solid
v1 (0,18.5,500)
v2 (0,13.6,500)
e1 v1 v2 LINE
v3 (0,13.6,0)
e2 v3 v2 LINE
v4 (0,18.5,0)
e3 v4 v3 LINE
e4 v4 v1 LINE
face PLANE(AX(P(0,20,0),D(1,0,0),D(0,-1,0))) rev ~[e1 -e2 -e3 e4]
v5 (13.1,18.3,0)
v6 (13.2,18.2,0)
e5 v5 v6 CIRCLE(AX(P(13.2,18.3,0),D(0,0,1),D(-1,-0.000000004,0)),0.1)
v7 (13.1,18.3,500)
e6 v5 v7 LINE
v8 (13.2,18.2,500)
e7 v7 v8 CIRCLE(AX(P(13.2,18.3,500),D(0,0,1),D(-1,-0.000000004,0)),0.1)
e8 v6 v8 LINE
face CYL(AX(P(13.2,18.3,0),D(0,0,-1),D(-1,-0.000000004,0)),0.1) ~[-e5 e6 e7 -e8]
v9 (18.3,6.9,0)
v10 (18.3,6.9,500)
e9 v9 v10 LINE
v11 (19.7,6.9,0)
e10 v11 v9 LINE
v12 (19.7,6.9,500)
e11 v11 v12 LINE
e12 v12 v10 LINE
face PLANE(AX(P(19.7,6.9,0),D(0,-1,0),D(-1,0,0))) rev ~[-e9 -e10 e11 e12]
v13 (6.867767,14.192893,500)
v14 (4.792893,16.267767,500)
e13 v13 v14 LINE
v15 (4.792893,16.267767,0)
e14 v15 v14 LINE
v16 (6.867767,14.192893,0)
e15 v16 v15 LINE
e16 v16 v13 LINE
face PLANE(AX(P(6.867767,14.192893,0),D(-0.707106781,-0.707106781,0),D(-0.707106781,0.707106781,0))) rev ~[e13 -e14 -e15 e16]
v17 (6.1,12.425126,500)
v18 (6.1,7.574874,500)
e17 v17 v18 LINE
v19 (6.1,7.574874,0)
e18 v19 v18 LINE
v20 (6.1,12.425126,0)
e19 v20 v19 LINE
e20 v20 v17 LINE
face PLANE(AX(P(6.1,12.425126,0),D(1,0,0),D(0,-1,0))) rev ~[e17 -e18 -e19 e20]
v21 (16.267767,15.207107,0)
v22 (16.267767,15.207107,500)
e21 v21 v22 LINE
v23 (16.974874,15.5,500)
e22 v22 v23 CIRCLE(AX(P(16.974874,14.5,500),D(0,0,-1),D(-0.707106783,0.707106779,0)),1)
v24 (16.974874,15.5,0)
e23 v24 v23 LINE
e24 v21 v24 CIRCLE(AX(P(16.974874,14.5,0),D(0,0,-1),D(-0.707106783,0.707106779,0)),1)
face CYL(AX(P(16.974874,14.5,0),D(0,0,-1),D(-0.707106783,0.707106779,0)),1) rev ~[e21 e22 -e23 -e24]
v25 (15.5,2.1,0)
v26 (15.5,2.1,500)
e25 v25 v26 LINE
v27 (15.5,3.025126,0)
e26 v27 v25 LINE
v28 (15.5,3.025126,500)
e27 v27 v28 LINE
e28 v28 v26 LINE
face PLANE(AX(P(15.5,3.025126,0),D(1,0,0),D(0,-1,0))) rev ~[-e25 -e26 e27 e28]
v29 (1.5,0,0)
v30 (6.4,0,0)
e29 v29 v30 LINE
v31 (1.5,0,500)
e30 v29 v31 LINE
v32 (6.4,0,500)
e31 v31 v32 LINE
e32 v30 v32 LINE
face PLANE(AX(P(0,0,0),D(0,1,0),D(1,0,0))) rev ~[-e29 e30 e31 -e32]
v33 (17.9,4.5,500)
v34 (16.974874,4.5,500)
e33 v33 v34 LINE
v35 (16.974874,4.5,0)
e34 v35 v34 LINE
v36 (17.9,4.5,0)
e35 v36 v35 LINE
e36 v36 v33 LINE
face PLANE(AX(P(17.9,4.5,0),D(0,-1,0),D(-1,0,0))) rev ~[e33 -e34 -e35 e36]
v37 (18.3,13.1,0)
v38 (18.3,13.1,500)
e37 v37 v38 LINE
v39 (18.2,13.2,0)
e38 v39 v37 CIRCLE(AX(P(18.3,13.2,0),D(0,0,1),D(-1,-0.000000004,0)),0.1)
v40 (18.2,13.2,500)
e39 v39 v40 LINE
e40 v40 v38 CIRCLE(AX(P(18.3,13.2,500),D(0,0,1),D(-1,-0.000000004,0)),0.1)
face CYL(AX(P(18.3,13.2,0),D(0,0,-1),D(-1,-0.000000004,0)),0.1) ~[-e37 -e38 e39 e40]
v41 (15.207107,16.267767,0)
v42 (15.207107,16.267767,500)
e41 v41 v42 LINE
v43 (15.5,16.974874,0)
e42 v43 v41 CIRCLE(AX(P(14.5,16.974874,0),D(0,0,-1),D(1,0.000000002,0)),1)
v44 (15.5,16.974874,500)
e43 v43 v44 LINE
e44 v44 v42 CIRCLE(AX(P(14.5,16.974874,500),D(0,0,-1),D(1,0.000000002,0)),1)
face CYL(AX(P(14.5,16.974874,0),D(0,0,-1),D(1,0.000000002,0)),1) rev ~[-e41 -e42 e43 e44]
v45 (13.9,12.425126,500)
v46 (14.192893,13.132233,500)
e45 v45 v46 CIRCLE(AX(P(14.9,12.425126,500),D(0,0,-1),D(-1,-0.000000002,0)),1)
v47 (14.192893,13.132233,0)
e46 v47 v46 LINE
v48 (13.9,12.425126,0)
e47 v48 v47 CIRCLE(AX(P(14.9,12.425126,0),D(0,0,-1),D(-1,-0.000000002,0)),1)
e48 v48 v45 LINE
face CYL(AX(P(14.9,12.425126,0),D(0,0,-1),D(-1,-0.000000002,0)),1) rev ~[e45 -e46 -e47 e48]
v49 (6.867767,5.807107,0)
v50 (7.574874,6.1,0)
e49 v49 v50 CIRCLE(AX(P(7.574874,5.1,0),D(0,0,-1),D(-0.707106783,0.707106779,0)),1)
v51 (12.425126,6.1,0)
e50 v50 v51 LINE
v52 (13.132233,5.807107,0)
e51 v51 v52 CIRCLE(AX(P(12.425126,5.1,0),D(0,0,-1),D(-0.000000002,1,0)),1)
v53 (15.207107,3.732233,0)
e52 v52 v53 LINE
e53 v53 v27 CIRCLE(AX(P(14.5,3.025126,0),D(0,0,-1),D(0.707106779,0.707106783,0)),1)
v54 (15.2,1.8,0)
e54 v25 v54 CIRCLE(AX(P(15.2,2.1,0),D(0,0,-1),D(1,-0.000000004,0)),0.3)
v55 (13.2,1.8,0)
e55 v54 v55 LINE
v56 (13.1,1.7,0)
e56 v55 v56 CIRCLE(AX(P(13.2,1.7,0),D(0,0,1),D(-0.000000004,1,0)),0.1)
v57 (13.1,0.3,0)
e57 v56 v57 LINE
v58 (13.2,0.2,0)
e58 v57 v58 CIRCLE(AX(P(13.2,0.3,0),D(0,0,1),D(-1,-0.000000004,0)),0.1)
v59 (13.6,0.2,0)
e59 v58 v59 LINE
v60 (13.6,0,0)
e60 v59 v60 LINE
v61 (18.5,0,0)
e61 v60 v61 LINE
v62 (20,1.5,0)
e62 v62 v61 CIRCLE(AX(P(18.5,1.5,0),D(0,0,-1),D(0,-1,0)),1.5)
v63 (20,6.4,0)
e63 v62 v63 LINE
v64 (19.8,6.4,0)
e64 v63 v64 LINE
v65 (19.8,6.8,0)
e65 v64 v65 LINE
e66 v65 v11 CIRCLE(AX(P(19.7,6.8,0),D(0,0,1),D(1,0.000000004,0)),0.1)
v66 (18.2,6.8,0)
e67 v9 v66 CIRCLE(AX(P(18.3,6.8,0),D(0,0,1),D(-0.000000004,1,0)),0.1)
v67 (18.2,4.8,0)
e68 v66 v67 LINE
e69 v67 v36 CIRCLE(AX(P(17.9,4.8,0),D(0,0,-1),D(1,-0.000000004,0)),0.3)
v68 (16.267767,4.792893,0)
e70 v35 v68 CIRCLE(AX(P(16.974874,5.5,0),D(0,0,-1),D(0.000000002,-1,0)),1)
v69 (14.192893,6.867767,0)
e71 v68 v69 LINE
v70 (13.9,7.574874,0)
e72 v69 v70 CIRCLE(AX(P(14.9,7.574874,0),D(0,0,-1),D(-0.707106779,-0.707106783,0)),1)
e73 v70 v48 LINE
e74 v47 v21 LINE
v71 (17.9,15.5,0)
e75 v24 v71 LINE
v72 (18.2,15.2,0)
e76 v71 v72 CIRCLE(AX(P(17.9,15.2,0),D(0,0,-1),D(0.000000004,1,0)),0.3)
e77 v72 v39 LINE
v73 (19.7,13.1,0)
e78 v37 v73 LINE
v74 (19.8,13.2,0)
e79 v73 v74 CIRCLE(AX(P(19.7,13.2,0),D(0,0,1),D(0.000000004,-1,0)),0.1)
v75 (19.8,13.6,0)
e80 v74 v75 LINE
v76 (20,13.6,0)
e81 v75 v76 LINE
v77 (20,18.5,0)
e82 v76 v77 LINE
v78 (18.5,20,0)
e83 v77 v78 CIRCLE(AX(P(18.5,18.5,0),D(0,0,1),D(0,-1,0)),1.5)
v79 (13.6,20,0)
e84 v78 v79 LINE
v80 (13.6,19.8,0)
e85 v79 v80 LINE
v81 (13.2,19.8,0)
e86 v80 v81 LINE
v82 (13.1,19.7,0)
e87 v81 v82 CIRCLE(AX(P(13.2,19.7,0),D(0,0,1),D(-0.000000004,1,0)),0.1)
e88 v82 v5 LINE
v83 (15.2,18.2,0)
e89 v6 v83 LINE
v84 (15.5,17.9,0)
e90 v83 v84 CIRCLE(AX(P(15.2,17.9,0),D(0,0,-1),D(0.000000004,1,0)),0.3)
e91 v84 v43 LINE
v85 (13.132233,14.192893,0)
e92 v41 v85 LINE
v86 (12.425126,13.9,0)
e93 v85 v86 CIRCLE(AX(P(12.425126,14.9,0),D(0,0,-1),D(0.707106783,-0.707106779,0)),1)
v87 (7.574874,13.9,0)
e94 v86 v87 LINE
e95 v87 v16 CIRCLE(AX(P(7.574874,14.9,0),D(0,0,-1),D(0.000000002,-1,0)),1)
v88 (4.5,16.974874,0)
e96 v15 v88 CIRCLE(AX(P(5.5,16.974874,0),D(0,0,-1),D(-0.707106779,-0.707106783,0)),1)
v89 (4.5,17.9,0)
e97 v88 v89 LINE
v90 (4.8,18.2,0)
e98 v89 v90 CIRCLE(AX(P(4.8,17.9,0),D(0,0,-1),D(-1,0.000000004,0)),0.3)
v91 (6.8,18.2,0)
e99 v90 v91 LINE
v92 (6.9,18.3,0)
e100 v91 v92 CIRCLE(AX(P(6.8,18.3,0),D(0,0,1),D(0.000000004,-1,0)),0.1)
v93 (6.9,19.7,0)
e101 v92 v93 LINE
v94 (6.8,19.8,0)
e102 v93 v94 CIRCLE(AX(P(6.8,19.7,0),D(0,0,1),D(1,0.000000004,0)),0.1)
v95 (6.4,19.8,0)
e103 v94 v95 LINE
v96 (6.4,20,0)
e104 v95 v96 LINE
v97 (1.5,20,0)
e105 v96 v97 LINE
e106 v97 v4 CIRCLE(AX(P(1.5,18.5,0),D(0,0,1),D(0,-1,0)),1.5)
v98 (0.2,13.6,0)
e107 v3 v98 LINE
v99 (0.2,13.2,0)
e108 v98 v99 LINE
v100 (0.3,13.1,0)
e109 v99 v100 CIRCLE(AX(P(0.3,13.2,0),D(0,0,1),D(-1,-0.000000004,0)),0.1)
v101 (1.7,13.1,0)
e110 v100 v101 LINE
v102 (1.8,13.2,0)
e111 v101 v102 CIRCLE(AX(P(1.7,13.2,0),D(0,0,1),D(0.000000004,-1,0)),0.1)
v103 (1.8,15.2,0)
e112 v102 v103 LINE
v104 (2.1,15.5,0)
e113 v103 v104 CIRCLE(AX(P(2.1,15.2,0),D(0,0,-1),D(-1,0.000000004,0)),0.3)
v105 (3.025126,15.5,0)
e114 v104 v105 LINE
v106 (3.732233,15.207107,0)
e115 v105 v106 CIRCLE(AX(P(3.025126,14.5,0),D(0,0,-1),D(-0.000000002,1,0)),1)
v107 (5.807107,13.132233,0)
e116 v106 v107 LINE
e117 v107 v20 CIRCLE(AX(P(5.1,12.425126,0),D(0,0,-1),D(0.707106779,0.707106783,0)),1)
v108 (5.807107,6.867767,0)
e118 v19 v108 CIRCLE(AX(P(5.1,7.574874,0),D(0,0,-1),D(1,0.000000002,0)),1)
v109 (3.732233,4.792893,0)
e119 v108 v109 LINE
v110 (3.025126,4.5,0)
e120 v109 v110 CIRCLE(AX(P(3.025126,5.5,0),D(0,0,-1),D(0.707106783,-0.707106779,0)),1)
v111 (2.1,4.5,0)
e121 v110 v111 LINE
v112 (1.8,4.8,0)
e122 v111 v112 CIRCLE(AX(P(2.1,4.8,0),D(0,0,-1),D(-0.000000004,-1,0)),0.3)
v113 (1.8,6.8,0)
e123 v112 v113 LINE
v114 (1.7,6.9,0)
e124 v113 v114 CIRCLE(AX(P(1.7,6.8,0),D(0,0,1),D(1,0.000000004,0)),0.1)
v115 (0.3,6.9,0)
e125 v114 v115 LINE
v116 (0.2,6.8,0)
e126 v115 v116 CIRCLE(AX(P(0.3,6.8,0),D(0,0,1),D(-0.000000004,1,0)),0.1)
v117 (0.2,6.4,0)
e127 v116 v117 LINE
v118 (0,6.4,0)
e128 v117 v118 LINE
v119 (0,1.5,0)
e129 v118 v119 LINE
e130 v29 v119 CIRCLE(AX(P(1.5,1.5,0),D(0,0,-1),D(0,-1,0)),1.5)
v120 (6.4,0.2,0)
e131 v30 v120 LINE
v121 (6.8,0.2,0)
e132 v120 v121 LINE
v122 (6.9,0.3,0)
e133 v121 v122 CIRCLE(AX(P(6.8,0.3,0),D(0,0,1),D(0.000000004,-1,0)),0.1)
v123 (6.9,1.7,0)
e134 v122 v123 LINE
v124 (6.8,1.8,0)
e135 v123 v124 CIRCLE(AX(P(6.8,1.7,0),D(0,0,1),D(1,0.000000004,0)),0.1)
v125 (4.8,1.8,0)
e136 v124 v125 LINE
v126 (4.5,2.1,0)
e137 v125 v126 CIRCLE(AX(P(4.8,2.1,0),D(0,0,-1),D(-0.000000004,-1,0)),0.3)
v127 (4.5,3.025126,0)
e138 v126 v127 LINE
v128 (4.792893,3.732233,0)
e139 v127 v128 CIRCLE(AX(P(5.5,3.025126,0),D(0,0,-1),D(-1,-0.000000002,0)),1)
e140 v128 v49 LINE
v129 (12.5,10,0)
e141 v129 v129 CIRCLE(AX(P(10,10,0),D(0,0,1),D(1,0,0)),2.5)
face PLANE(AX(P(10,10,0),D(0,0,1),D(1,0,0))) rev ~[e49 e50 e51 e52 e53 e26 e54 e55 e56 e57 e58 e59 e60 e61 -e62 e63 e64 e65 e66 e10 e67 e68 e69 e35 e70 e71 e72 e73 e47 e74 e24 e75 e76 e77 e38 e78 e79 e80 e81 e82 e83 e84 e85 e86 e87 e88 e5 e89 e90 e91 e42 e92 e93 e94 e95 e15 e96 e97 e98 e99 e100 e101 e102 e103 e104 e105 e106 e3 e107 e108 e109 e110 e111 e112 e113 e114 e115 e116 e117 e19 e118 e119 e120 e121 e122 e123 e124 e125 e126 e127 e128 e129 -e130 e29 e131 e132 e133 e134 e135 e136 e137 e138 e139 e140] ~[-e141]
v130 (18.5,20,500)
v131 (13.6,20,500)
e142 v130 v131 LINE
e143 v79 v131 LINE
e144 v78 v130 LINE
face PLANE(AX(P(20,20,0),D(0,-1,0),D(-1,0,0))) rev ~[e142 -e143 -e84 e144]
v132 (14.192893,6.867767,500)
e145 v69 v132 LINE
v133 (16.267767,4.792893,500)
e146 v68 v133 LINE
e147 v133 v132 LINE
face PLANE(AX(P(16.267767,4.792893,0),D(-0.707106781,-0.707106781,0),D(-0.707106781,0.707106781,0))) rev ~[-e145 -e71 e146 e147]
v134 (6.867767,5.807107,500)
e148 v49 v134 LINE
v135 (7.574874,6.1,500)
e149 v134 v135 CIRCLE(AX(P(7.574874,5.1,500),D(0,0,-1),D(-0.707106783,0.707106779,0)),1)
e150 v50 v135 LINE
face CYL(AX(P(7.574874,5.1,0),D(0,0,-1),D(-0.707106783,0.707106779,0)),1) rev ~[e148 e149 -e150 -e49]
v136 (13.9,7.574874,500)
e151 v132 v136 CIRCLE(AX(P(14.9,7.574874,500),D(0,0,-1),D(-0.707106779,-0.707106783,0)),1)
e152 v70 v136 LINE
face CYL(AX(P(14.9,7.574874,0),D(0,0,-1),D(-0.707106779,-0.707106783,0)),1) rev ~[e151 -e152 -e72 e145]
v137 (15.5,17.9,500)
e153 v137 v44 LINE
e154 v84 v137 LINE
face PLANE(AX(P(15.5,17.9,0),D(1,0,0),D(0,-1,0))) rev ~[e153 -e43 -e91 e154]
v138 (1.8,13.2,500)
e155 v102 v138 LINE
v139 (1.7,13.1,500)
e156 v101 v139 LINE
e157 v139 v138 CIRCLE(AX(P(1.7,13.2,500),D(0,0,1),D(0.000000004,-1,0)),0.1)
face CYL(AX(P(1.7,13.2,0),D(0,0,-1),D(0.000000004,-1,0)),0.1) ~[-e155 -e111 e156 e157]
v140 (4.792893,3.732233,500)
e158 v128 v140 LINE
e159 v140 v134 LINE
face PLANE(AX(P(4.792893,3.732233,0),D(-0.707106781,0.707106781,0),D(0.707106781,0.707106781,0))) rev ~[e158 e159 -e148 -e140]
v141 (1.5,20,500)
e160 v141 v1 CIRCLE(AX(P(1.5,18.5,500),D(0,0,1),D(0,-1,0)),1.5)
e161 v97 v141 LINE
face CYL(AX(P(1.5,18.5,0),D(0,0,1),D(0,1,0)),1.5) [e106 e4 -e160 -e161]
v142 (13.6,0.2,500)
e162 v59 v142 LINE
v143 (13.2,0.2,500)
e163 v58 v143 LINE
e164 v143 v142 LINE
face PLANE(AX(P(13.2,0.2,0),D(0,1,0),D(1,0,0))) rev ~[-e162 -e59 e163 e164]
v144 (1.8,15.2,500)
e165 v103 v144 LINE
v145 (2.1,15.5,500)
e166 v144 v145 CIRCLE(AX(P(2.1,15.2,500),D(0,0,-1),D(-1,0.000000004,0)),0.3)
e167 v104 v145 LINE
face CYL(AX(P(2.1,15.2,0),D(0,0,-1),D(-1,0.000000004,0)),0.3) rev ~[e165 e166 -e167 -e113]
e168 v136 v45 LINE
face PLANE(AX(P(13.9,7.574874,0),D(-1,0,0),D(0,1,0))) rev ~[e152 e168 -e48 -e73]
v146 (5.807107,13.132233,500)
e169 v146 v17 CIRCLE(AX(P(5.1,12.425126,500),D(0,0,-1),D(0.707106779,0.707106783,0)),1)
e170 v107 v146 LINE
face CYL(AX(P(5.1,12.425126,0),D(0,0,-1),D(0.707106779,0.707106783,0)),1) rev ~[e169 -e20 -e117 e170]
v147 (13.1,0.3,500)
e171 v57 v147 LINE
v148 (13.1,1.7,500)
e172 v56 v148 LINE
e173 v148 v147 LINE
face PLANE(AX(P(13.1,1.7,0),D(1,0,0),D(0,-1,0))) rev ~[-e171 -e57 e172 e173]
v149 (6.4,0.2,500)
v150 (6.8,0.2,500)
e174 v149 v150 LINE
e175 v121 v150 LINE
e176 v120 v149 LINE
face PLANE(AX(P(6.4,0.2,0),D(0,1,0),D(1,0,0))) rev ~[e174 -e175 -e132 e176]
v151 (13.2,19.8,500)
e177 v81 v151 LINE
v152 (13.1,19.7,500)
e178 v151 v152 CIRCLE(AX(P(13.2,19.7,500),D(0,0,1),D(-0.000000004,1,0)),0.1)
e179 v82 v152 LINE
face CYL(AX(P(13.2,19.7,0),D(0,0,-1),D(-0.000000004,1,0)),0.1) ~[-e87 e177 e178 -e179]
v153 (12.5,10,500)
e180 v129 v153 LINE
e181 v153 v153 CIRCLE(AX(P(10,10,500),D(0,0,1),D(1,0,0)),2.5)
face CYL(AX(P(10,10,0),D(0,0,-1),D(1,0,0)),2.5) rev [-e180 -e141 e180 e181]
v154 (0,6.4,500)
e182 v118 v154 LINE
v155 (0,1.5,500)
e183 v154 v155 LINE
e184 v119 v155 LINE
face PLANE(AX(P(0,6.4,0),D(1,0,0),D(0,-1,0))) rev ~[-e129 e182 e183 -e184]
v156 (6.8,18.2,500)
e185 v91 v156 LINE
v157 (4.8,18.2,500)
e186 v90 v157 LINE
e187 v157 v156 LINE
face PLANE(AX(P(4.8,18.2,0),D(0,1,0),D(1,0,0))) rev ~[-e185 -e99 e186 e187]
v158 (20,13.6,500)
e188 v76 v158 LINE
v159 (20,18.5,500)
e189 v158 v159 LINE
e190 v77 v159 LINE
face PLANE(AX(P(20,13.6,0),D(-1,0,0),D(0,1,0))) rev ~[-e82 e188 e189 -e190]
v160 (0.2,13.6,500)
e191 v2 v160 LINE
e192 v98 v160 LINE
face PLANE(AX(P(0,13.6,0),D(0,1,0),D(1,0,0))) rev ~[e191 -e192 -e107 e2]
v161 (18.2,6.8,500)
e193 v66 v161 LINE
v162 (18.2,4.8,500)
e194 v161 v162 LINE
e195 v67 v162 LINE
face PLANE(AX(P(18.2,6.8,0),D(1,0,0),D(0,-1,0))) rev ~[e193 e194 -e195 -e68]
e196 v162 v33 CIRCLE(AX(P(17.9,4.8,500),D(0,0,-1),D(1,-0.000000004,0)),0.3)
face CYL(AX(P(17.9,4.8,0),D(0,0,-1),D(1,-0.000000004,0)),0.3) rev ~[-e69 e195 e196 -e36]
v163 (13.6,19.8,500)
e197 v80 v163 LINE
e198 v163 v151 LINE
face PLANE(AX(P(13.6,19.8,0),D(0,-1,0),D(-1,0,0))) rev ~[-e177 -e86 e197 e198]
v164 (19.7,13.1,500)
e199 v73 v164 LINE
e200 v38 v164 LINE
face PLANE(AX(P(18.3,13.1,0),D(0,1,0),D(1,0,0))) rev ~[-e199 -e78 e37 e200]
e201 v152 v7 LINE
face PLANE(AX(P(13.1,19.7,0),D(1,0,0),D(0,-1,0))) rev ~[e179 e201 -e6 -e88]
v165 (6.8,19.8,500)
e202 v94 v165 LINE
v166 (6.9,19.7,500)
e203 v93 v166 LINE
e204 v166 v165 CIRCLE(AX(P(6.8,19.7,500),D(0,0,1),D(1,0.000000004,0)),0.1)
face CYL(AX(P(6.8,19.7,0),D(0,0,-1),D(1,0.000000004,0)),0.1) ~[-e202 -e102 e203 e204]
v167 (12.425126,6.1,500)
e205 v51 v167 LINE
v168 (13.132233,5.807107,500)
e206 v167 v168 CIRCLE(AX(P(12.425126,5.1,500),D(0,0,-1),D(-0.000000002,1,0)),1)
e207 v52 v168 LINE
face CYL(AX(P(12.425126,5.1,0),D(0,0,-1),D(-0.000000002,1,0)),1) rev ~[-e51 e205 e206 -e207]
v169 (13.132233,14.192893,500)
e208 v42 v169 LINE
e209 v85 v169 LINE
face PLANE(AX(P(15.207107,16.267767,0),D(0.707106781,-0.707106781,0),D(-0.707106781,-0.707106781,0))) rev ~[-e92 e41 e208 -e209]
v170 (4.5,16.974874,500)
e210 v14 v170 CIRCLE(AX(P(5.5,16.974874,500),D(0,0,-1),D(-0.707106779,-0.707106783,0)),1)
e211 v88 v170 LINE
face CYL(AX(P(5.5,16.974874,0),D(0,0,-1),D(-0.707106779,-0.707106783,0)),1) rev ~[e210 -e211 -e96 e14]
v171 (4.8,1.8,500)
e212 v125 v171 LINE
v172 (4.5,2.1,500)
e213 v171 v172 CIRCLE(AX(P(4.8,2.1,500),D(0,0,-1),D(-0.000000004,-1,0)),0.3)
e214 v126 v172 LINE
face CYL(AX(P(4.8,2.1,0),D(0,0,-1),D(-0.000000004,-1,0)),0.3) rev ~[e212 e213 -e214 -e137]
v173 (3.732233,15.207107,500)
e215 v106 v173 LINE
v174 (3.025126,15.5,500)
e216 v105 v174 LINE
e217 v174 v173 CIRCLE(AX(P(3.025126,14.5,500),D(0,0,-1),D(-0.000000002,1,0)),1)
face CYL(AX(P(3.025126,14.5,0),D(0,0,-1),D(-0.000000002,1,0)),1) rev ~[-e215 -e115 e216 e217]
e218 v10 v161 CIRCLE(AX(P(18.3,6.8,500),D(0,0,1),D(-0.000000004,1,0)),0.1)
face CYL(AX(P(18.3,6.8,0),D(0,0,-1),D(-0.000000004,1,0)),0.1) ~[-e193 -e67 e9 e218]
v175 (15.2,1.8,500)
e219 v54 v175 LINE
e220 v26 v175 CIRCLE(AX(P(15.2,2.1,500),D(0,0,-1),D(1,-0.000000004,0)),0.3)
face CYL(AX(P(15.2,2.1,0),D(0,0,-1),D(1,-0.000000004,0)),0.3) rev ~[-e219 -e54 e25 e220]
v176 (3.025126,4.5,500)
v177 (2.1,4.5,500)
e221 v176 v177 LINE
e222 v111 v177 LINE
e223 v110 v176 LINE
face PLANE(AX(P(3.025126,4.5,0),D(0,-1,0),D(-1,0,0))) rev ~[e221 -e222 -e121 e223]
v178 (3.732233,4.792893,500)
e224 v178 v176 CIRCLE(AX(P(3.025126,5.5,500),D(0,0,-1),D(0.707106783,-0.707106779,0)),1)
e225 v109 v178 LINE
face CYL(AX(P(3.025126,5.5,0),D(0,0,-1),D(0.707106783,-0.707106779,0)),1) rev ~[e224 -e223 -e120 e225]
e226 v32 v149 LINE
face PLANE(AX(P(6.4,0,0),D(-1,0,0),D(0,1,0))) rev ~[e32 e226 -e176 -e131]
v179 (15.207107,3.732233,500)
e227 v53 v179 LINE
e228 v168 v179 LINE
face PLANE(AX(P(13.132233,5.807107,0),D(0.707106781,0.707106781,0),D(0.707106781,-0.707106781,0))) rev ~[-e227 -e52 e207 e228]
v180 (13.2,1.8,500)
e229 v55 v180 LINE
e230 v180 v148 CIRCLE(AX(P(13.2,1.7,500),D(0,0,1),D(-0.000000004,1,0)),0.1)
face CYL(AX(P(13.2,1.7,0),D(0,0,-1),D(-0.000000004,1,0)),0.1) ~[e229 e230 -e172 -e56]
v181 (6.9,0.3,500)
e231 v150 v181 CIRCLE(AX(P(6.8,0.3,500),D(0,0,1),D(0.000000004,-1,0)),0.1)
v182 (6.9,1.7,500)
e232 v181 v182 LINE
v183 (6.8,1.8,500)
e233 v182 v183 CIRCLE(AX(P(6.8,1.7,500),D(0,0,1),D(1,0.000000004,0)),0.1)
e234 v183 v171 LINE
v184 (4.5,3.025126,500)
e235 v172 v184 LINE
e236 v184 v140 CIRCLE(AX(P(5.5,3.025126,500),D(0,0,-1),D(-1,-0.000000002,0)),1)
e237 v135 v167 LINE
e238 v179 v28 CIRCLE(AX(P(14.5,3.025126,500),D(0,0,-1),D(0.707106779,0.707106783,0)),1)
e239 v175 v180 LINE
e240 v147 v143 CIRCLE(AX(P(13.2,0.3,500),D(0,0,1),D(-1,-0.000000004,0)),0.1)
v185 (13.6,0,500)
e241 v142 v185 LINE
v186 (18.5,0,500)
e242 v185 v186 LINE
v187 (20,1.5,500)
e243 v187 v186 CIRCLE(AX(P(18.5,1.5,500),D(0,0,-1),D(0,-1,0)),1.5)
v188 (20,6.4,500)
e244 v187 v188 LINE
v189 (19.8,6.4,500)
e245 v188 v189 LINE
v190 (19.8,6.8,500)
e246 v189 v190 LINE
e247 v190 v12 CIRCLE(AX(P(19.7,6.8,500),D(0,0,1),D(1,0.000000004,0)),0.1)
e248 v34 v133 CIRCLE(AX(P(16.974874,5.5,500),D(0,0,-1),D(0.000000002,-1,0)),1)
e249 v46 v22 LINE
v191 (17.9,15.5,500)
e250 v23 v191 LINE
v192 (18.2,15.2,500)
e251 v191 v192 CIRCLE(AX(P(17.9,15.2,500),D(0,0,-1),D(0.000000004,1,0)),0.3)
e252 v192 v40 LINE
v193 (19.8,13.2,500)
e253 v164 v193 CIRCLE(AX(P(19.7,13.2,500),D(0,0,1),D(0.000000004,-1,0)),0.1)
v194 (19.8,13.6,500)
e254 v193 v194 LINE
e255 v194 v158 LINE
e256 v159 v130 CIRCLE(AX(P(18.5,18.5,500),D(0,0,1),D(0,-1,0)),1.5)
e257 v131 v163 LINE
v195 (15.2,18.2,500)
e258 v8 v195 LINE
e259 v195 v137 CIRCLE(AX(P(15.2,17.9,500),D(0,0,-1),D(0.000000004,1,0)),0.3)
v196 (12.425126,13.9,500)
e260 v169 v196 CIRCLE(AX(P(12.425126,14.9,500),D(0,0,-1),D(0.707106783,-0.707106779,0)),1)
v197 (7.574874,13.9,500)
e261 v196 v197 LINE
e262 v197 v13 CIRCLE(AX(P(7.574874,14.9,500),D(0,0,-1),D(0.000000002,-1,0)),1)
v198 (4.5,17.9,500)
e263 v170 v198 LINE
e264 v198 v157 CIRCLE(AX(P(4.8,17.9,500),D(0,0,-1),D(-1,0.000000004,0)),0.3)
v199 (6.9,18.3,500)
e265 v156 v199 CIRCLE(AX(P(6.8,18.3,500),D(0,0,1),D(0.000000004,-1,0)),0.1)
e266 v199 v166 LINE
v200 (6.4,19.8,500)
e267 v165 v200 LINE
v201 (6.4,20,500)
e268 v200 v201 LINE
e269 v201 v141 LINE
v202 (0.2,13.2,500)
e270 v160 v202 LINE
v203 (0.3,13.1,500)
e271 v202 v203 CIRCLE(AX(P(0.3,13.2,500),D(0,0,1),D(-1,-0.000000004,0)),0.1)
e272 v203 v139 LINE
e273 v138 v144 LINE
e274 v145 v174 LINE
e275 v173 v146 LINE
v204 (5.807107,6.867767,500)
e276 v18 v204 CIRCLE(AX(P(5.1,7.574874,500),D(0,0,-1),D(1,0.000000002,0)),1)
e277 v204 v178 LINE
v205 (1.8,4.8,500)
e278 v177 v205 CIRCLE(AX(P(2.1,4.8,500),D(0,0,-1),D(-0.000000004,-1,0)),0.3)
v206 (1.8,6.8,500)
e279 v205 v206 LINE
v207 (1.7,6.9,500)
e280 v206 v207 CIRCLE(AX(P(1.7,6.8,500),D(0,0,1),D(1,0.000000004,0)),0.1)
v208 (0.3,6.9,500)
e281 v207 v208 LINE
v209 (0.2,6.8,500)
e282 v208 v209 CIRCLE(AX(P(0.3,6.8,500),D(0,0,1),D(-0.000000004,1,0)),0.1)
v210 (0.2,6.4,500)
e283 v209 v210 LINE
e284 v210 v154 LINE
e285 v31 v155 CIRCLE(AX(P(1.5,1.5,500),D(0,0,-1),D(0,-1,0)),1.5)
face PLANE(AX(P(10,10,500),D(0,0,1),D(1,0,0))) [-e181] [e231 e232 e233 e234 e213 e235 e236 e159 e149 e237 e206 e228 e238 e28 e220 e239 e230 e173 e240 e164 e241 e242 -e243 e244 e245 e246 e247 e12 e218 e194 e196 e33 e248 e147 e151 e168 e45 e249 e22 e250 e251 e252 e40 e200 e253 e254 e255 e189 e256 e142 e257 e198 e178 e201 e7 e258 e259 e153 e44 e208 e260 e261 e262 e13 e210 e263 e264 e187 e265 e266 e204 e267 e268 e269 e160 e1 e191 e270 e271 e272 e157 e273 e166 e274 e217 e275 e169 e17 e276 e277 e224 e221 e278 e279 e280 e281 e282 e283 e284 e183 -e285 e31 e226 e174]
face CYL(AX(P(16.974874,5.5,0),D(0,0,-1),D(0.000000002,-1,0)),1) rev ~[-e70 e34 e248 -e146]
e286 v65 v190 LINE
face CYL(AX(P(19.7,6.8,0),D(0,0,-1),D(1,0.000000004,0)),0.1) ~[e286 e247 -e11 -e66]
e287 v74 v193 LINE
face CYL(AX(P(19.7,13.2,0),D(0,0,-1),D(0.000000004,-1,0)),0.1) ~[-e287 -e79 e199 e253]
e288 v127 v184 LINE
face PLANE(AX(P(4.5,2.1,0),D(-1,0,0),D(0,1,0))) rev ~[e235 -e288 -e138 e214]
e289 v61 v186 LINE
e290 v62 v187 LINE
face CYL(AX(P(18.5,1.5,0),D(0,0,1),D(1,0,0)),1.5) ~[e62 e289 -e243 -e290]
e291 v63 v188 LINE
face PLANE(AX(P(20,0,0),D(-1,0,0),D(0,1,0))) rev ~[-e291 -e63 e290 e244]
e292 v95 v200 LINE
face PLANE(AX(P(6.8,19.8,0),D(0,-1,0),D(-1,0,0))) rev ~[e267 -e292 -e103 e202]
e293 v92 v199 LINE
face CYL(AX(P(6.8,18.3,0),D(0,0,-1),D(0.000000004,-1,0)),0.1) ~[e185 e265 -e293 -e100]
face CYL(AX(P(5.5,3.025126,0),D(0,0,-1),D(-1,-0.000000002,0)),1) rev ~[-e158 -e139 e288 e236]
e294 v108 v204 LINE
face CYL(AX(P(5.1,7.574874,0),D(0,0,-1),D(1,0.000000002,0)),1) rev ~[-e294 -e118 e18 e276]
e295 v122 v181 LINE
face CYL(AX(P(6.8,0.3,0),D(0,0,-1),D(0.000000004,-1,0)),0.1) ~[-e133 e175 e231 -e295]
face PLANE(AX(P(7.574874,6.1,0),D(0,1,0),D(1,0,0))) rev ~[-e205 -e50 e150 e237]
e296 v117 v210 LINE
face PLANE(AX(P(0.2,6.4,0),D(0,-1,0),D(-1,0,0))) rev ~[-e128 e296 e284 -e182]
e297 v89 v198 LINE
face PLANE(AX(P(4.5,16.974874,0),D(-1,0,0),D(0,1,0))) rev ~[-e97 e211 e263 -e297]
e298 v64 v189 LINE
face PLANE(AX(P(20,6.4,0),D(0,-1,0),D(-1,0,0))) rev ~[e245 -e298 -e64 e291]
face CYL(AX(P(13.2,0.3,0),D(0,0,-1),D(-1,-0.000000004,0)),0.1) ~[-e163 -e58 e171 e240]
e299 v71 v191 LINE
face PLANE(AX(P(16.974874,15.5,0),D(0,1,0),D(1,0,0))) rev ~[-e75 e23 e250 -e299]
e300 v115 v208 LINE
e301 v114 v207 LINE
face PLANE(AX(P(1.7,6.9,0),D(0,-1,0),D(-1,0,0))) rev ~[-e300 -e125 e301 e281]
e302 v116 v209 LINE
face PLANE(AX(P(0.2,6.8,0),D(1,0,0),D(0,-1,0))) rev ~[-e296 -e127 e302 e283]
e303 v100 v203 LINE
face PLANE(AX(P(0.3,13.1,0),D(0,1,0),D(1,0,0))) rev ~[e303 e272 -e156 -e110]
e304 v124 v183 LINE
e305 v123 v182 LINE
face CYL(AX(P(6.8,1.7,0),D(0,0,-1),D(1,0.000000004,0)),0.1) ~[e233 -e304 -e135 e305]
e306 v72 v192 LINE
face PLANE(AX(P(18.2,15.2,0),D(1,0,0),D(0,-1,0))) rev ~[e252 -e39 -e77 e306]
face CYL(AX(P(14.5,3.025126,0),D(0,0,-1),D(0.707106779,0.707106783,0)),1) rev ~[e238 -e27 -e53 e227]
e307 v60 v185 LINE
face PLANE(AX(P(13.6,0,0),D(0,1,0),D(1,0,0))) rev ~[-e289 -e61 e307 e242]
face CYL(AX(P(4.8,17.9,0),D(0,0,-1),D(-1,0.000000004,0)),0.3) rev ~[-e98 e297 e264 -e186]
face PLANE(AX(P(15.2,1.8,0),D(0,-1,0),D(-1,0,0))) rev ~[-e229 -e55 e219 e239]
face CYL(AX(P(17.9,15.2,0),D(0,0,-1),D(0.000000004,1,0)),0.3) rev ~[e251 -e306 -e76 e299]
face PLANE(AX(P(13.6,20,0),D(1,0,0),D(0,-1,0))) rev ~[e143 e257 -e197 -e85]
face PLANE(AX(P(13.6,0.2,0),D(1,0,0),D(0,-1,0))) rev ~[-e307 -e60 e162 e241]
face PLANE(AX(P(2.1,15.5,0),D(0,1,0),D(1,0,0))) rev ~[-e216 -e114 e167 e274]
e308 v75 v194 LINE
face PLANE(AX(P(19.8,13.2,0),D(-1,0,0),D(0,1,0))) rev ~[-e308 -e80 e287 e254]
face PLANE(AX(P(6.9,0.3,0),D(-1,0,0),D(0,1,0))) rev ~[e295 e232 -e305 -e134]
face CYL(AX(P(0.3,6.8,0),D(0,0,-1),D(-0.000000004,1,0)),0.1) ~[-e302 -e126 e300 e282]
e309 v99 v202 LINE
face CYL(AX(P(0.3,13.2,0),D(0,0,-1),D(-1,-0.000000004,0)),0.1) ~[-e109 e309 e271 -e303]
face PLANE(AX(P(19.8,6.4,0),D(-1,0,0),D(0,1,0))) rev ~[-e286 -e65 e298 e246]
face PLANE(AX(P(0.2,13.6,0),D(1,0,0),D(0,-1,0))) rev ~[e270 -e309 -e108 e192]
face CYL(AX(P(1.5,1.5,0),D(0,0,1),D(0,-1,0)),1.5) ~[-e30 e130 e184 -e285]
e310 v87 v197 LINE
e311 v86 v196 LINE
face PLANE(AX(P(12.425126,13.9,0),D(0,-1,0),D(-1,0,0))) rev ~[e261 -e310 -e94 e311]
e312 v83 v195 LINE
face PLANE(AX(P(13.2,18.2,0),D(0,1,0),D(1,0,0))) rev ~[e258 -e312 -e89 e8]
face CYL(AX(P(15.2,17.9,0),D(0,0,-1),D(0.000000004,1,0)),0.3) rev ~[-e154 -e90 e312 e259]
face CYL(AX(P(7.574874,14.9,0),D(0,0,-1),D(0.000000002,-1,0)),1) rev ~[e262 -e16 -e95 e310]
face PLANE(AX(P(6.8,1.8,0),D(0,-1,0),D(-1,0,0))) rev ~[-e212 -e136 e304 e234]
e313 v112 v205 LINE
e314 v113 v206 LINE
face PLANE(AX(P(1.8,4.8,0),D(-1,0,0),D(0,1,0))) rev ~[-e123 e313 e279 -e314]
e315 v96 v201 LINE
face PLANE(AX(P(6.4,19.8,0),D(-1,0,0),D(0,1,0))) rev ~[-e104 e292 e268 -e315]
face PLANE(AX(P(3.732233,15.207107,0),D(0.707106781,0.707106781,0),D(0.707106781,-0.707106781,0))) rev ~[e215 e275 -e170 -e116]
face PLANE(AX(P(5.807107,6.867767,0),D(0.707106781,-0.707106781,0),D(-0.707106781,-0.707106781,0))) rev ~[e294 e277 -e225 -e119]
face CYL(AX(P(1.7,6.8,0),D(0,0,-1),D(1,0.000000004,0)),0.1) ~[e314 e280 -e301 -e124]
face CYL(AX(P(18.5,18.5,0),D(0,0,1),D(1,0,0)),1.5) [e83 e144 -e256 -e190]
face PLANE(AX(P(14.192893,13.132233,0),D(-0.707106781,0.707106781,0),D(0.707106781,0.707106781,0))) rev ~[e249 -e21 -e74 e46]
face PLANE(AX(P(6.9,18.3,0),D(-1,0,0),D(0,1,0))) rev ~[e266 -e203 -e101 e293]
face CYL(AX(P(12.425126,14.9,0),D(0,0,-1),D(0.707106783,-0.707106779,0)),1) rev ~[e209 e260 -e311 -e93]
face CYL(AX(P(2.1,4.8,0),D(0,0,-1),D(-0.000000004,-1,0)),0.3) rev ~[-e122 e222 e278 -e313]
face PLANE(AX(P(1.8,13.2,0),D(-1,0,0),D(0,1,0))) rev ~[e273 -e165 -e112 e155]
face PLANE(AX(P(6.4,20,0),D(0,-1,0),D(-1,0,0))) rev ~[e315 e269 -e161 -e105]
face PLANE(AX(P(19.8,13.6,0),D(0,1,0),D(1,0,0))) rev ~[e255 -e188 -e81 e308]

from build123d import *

# Parameters (mm, degrees)
SKETCH_1_R      = 2.5
EXTRUDE_1_DEPTH = 500
FILLET_1_R      = 1.5


with BuildPart() as part:
    # 草图1 → 凸台-拉伸1 (new body)
    with BuildSketch(Plane.XY):
        with BuildLine():
            Line((20, 13.6), (20, 20))
            Line((20, 20), (13.6, 20))
            Line((13.6, 20), (13.6, 19.8))
            Line((13.6, 19.8), (13.2, 19.8))
            ThreePointArc((13.2, 19.8), (13.129289322, 19.770710678), (13.1, 19.7))
            Line((13.1, 19.7), (13.1, 18.3))
            ThreePointArc((13.1, 18.3), (13.129289322, 18.229289322), (13.2, 18.2))
            Line((13.2, 18.2), (15.2, 18.2))
            ThreePointArc((15.2, 18.2), (15.412132034, 18.112132034), (15.5, 17.9))
            Line((15.5, 17.9), (15.5, 16.974873734))
            ThreePointArc((15.5, 16.974873734), (15.423879533, 16.592190302), (15.207106781, 16.267766953))
            Line((15.207106781, 16.267766953), (13.132233047, 14.192893219))
            ThreePointArc((13.132233047, 14.192893219), (12.807809698, 13.976120467), (12.425126266, 13.9))
            Line((12.425126266, 13.9), (7.574873734, 13.9))
            ThreePointArc((7.574873734, 13.9), (7.192190302, 13.976120467), (6.867766953, 14.192893219))
            Line((6.867766953, 14.192893219), (4.792893219, 16.267766953))
            ThreePointArc((4.792893219, 16.267766953), (4.576120467, 16.592190302), (4.5, 16.974873734))
            Line((4.5, 16.974873734), (4.5, 17.9))
            ThreePointArc((4.5, 17.9), (4.587867966, 18.112132034), (4.8, 18.2))
            Line((4.8, 18.2), (6.8, 18.2))
            ThreePointArc((6.8, 18.2), (6.870710678, 18.229289322), (6.9, 18.3))
            Line((6.9, 18.3), (6.9, 19.7))
            ThreePointArc((6.9, 19.7), (6.870710678, 19.770710678), (6.8, 19.8))
            Line((6.8, 19.8), (6.4, 19.8))
            Line((6.4, 19.8), (6.4, 20))
            Line((6.4, 20), (0, 20))
            Line((0, 20), (0, 13.6))
            Line((0, 13.6), (0.2, 13.6))
            Line((0.2, 13.6), (0.2, 13.2))
            ThreePointArc((0.2, 13.2), (0.229289322, 13.129289322), (0.3, 13.1))
            Line((0.3, 13.1), (1.7, 13.1))
            ThreePointArc((1.7, 13.1), (1.770710678, 13.129289322), (1.8, 13.2))
            Line((1.8, 13.2), (1.8, 15.2))
            ThreePointArc((1.8, 15.2), (1.887867966, 15.412132034), (2.1, 15.5))
            Line((2.1, 15.5), (3.025126266, 15.5))
            ThreePointArc((3.025126266, 15.5), (3.407809698, 15.423879533), (3.732233047, 15.207106781))
            Line((3.732233047, 15.207106781), (5.807106781, 13.132233047))
            ThreePointArc((5.807106781, 13.132233047), (6.023879533, 12.807809698), (6.1, 12.425126266))
            Line((6.1, 12.425126266), (6.1, 7.574873734))
            ThreePointArc((6.1, 7.574873734), (6.023879533, 7.192190302), (5.807106781, 6.867766953))
            Line((5.807106781, 6.867766953), (3.732233047, 4.792893219))
            ThreePointArc((3.732233047, 4.792893219), (3.407809698, 4.576120467), (3.025126266, 4.5))
            Line((3.025126266, 4.5), (2.1, 4.5))
            ThreePointArc((2.1, 4.5), (1.887867966, 4.587867966), (1.8, 4.8))
            Line((1.8, 4.8), (1.8, 6.8))
            ThreePointArc((1.8, 6.8), (1.770710678, 6.870710678), (1.7, 6.9))
            Line((1.7, 6.9), (0.3, 6.9))
            ThreePointArc((0.3, 6.9), (0.229289322, 6.870710678), (0.2, 6.8))
            Line((0.2, 6.8), (0.2, 6.4))
            Line((0.2, 6.4), (0, 6.4))
            Line((0, 6.4), (0, 0))
            Line((0, 0), (6.4, 0))
            Line((6.4, 0), (6.4, 0.2))
            Line((6.4, 0.2), (6.8, 0.2))
            ThreePointArc((6.8, 0.2), (6.870710678, 0.229289322), (6.9, 0.3))
            Line((6.9, 0.3), (6.9, 1.7))
            ThreePointArc((6.9, 1.7), (6.870710678, 1.770710678), (6.8, 1.8))
            Line((6.8, 1.8), (4.8, 1.8))
            ThreePointArc((4.8, 1.8), (4.587867966, 1.887867966), (4.5, 2.1))
            Line((4.5, 2.1), (4.5, 3.025126266))
            ThreePointArc((4.5, 3.025126266), (4.576120467, 3.407809698), (4.792893219, 3.732233047))
            Line((4.792893219, 3.732233047), (6.867766953, 5.807106781))
            ThreePointArc((6.867766953, 5.807106781), (7.192190302, 6.023879533), (7.574873734, 6.1))
            Line((7.574873734, 6.1), (12.425126266, 6.1))
            ThreePointArc((12.425126266, 6.1), (12.807809698, 6.023879533), (13.132233047, 5.807106781))
            Line((13.132233047, 5.807106781), (15.207106781, 3.732233047))
            ThreePointArc((15.207106781, 3.732233047), (15.423879533, 3.407809698), (15.5, 3.025126266))
            Line((15.5, 3.025126266), (15.5, 2.1))
            ThreePointArc((15.5, 2.1), (15.412132034, 1.887867966), (15.2, 1.8))
            Line((15.2, 1.8), (13.2, 1.8))
            ThreePointArc((13.2, 1.8), (13.129289322, 1.770710678), (13.1, 1.7))
            Line((13.1, 1.7), (13.1, 0.3))
            ThreePointArc((13.1, 0.3), (13.129289322, 0.229289322), (13.2, 0.2))
            Line((13.2, 0.2), (13.6, 0.2))
            Line((13.6, 0.2), (13.6, 0))
            Line((13.6, 0), (20, 0))
            Line((20, 0), (20, 6.4))
            Line((20, 6.4), (19.8, 6.4))
            Line((19.8, 6.4), (19.8, 6.8))
            ThreePointArc((19.8, 6.8), (19.770710678, 6.870710678), (19.7, 6.9))
            Line((19.7, 6.9), (18.3, 6.9))
            ThreePointArc((18.3, 6.9), (18.229289322, 6.870710678), (18.2, 6.8))
            Line((18.2, 6.8), (18.2, 4.8))
            ThreePointArc((18.2, 4.8), (18.112132034, 4.587867966), (17.9, 4.5))
            Line((17.9, 4.5), (16.974873734, 4.5))
            ThreePointArc((16.974873734, 4.5), (16.592190302, 4.576120467), (16.267766953, 4.792893219))
            Line((16.267766953, 4.792893219), (14.192893219, 6.867766953))
            ThreePointArc((14.192893219, 6.867766953), (13.976120467, 7.192190302), (13.9, 7.574873734))
            Line((13.9, 7.574873734), (13.9, 12.425126266))
            ThreePointArc((13.9, 12.425126266), (13.976120467, 12.807809698), (14.192893219, 13.132233047))
            Line((14.192893219, 13.132233047), (16.267766953, 15.207106781))
            ThreePointArc((16.267766953, 15.207106781), (16.592190302, 15.423879533), (16.974873734, 15.5))
            Line((16.974873734, 15.5), (17.9, 15.5))
            ThreePointArc((17.9, 15.5), (18.112132034, 15.412132034), (18.2, 15.2))
            Line((18.2, 15.2), (18.2, 13.2))
            ThreePointArc((18.2, 13.2), (18.229289322, 13.129289322), (18.3, 13.1))
            Line((18.3, 13.1), (19.7, 13.1))
            ThreePointArc((19.7, 13.1), (19.770710678, 13.129289322), (19.8, 13.2))
            Line((19.8, 13.2), (19.8, 13.6))
            Line((19.8, 13.6), (20, 13.6))
        make_face()
        with Locations((10, 10)):
            Circle(SKETCH_1_R, mode=Mode.SUBTRACT)
    extrude(amount=EXTRUDE_1_DEPTH)

    # 圆角1
    fillet_1_edges = [part.edges().sort_by_distance(p)[0] for p in [
        (0, 0, 250),
        (0, 20, 250),
        (20, 20, 250),
        (20, 0, 250),
    ]]
    fillet(fillet_1_edges, radius=FILLET_1_R)


solid = part.part
